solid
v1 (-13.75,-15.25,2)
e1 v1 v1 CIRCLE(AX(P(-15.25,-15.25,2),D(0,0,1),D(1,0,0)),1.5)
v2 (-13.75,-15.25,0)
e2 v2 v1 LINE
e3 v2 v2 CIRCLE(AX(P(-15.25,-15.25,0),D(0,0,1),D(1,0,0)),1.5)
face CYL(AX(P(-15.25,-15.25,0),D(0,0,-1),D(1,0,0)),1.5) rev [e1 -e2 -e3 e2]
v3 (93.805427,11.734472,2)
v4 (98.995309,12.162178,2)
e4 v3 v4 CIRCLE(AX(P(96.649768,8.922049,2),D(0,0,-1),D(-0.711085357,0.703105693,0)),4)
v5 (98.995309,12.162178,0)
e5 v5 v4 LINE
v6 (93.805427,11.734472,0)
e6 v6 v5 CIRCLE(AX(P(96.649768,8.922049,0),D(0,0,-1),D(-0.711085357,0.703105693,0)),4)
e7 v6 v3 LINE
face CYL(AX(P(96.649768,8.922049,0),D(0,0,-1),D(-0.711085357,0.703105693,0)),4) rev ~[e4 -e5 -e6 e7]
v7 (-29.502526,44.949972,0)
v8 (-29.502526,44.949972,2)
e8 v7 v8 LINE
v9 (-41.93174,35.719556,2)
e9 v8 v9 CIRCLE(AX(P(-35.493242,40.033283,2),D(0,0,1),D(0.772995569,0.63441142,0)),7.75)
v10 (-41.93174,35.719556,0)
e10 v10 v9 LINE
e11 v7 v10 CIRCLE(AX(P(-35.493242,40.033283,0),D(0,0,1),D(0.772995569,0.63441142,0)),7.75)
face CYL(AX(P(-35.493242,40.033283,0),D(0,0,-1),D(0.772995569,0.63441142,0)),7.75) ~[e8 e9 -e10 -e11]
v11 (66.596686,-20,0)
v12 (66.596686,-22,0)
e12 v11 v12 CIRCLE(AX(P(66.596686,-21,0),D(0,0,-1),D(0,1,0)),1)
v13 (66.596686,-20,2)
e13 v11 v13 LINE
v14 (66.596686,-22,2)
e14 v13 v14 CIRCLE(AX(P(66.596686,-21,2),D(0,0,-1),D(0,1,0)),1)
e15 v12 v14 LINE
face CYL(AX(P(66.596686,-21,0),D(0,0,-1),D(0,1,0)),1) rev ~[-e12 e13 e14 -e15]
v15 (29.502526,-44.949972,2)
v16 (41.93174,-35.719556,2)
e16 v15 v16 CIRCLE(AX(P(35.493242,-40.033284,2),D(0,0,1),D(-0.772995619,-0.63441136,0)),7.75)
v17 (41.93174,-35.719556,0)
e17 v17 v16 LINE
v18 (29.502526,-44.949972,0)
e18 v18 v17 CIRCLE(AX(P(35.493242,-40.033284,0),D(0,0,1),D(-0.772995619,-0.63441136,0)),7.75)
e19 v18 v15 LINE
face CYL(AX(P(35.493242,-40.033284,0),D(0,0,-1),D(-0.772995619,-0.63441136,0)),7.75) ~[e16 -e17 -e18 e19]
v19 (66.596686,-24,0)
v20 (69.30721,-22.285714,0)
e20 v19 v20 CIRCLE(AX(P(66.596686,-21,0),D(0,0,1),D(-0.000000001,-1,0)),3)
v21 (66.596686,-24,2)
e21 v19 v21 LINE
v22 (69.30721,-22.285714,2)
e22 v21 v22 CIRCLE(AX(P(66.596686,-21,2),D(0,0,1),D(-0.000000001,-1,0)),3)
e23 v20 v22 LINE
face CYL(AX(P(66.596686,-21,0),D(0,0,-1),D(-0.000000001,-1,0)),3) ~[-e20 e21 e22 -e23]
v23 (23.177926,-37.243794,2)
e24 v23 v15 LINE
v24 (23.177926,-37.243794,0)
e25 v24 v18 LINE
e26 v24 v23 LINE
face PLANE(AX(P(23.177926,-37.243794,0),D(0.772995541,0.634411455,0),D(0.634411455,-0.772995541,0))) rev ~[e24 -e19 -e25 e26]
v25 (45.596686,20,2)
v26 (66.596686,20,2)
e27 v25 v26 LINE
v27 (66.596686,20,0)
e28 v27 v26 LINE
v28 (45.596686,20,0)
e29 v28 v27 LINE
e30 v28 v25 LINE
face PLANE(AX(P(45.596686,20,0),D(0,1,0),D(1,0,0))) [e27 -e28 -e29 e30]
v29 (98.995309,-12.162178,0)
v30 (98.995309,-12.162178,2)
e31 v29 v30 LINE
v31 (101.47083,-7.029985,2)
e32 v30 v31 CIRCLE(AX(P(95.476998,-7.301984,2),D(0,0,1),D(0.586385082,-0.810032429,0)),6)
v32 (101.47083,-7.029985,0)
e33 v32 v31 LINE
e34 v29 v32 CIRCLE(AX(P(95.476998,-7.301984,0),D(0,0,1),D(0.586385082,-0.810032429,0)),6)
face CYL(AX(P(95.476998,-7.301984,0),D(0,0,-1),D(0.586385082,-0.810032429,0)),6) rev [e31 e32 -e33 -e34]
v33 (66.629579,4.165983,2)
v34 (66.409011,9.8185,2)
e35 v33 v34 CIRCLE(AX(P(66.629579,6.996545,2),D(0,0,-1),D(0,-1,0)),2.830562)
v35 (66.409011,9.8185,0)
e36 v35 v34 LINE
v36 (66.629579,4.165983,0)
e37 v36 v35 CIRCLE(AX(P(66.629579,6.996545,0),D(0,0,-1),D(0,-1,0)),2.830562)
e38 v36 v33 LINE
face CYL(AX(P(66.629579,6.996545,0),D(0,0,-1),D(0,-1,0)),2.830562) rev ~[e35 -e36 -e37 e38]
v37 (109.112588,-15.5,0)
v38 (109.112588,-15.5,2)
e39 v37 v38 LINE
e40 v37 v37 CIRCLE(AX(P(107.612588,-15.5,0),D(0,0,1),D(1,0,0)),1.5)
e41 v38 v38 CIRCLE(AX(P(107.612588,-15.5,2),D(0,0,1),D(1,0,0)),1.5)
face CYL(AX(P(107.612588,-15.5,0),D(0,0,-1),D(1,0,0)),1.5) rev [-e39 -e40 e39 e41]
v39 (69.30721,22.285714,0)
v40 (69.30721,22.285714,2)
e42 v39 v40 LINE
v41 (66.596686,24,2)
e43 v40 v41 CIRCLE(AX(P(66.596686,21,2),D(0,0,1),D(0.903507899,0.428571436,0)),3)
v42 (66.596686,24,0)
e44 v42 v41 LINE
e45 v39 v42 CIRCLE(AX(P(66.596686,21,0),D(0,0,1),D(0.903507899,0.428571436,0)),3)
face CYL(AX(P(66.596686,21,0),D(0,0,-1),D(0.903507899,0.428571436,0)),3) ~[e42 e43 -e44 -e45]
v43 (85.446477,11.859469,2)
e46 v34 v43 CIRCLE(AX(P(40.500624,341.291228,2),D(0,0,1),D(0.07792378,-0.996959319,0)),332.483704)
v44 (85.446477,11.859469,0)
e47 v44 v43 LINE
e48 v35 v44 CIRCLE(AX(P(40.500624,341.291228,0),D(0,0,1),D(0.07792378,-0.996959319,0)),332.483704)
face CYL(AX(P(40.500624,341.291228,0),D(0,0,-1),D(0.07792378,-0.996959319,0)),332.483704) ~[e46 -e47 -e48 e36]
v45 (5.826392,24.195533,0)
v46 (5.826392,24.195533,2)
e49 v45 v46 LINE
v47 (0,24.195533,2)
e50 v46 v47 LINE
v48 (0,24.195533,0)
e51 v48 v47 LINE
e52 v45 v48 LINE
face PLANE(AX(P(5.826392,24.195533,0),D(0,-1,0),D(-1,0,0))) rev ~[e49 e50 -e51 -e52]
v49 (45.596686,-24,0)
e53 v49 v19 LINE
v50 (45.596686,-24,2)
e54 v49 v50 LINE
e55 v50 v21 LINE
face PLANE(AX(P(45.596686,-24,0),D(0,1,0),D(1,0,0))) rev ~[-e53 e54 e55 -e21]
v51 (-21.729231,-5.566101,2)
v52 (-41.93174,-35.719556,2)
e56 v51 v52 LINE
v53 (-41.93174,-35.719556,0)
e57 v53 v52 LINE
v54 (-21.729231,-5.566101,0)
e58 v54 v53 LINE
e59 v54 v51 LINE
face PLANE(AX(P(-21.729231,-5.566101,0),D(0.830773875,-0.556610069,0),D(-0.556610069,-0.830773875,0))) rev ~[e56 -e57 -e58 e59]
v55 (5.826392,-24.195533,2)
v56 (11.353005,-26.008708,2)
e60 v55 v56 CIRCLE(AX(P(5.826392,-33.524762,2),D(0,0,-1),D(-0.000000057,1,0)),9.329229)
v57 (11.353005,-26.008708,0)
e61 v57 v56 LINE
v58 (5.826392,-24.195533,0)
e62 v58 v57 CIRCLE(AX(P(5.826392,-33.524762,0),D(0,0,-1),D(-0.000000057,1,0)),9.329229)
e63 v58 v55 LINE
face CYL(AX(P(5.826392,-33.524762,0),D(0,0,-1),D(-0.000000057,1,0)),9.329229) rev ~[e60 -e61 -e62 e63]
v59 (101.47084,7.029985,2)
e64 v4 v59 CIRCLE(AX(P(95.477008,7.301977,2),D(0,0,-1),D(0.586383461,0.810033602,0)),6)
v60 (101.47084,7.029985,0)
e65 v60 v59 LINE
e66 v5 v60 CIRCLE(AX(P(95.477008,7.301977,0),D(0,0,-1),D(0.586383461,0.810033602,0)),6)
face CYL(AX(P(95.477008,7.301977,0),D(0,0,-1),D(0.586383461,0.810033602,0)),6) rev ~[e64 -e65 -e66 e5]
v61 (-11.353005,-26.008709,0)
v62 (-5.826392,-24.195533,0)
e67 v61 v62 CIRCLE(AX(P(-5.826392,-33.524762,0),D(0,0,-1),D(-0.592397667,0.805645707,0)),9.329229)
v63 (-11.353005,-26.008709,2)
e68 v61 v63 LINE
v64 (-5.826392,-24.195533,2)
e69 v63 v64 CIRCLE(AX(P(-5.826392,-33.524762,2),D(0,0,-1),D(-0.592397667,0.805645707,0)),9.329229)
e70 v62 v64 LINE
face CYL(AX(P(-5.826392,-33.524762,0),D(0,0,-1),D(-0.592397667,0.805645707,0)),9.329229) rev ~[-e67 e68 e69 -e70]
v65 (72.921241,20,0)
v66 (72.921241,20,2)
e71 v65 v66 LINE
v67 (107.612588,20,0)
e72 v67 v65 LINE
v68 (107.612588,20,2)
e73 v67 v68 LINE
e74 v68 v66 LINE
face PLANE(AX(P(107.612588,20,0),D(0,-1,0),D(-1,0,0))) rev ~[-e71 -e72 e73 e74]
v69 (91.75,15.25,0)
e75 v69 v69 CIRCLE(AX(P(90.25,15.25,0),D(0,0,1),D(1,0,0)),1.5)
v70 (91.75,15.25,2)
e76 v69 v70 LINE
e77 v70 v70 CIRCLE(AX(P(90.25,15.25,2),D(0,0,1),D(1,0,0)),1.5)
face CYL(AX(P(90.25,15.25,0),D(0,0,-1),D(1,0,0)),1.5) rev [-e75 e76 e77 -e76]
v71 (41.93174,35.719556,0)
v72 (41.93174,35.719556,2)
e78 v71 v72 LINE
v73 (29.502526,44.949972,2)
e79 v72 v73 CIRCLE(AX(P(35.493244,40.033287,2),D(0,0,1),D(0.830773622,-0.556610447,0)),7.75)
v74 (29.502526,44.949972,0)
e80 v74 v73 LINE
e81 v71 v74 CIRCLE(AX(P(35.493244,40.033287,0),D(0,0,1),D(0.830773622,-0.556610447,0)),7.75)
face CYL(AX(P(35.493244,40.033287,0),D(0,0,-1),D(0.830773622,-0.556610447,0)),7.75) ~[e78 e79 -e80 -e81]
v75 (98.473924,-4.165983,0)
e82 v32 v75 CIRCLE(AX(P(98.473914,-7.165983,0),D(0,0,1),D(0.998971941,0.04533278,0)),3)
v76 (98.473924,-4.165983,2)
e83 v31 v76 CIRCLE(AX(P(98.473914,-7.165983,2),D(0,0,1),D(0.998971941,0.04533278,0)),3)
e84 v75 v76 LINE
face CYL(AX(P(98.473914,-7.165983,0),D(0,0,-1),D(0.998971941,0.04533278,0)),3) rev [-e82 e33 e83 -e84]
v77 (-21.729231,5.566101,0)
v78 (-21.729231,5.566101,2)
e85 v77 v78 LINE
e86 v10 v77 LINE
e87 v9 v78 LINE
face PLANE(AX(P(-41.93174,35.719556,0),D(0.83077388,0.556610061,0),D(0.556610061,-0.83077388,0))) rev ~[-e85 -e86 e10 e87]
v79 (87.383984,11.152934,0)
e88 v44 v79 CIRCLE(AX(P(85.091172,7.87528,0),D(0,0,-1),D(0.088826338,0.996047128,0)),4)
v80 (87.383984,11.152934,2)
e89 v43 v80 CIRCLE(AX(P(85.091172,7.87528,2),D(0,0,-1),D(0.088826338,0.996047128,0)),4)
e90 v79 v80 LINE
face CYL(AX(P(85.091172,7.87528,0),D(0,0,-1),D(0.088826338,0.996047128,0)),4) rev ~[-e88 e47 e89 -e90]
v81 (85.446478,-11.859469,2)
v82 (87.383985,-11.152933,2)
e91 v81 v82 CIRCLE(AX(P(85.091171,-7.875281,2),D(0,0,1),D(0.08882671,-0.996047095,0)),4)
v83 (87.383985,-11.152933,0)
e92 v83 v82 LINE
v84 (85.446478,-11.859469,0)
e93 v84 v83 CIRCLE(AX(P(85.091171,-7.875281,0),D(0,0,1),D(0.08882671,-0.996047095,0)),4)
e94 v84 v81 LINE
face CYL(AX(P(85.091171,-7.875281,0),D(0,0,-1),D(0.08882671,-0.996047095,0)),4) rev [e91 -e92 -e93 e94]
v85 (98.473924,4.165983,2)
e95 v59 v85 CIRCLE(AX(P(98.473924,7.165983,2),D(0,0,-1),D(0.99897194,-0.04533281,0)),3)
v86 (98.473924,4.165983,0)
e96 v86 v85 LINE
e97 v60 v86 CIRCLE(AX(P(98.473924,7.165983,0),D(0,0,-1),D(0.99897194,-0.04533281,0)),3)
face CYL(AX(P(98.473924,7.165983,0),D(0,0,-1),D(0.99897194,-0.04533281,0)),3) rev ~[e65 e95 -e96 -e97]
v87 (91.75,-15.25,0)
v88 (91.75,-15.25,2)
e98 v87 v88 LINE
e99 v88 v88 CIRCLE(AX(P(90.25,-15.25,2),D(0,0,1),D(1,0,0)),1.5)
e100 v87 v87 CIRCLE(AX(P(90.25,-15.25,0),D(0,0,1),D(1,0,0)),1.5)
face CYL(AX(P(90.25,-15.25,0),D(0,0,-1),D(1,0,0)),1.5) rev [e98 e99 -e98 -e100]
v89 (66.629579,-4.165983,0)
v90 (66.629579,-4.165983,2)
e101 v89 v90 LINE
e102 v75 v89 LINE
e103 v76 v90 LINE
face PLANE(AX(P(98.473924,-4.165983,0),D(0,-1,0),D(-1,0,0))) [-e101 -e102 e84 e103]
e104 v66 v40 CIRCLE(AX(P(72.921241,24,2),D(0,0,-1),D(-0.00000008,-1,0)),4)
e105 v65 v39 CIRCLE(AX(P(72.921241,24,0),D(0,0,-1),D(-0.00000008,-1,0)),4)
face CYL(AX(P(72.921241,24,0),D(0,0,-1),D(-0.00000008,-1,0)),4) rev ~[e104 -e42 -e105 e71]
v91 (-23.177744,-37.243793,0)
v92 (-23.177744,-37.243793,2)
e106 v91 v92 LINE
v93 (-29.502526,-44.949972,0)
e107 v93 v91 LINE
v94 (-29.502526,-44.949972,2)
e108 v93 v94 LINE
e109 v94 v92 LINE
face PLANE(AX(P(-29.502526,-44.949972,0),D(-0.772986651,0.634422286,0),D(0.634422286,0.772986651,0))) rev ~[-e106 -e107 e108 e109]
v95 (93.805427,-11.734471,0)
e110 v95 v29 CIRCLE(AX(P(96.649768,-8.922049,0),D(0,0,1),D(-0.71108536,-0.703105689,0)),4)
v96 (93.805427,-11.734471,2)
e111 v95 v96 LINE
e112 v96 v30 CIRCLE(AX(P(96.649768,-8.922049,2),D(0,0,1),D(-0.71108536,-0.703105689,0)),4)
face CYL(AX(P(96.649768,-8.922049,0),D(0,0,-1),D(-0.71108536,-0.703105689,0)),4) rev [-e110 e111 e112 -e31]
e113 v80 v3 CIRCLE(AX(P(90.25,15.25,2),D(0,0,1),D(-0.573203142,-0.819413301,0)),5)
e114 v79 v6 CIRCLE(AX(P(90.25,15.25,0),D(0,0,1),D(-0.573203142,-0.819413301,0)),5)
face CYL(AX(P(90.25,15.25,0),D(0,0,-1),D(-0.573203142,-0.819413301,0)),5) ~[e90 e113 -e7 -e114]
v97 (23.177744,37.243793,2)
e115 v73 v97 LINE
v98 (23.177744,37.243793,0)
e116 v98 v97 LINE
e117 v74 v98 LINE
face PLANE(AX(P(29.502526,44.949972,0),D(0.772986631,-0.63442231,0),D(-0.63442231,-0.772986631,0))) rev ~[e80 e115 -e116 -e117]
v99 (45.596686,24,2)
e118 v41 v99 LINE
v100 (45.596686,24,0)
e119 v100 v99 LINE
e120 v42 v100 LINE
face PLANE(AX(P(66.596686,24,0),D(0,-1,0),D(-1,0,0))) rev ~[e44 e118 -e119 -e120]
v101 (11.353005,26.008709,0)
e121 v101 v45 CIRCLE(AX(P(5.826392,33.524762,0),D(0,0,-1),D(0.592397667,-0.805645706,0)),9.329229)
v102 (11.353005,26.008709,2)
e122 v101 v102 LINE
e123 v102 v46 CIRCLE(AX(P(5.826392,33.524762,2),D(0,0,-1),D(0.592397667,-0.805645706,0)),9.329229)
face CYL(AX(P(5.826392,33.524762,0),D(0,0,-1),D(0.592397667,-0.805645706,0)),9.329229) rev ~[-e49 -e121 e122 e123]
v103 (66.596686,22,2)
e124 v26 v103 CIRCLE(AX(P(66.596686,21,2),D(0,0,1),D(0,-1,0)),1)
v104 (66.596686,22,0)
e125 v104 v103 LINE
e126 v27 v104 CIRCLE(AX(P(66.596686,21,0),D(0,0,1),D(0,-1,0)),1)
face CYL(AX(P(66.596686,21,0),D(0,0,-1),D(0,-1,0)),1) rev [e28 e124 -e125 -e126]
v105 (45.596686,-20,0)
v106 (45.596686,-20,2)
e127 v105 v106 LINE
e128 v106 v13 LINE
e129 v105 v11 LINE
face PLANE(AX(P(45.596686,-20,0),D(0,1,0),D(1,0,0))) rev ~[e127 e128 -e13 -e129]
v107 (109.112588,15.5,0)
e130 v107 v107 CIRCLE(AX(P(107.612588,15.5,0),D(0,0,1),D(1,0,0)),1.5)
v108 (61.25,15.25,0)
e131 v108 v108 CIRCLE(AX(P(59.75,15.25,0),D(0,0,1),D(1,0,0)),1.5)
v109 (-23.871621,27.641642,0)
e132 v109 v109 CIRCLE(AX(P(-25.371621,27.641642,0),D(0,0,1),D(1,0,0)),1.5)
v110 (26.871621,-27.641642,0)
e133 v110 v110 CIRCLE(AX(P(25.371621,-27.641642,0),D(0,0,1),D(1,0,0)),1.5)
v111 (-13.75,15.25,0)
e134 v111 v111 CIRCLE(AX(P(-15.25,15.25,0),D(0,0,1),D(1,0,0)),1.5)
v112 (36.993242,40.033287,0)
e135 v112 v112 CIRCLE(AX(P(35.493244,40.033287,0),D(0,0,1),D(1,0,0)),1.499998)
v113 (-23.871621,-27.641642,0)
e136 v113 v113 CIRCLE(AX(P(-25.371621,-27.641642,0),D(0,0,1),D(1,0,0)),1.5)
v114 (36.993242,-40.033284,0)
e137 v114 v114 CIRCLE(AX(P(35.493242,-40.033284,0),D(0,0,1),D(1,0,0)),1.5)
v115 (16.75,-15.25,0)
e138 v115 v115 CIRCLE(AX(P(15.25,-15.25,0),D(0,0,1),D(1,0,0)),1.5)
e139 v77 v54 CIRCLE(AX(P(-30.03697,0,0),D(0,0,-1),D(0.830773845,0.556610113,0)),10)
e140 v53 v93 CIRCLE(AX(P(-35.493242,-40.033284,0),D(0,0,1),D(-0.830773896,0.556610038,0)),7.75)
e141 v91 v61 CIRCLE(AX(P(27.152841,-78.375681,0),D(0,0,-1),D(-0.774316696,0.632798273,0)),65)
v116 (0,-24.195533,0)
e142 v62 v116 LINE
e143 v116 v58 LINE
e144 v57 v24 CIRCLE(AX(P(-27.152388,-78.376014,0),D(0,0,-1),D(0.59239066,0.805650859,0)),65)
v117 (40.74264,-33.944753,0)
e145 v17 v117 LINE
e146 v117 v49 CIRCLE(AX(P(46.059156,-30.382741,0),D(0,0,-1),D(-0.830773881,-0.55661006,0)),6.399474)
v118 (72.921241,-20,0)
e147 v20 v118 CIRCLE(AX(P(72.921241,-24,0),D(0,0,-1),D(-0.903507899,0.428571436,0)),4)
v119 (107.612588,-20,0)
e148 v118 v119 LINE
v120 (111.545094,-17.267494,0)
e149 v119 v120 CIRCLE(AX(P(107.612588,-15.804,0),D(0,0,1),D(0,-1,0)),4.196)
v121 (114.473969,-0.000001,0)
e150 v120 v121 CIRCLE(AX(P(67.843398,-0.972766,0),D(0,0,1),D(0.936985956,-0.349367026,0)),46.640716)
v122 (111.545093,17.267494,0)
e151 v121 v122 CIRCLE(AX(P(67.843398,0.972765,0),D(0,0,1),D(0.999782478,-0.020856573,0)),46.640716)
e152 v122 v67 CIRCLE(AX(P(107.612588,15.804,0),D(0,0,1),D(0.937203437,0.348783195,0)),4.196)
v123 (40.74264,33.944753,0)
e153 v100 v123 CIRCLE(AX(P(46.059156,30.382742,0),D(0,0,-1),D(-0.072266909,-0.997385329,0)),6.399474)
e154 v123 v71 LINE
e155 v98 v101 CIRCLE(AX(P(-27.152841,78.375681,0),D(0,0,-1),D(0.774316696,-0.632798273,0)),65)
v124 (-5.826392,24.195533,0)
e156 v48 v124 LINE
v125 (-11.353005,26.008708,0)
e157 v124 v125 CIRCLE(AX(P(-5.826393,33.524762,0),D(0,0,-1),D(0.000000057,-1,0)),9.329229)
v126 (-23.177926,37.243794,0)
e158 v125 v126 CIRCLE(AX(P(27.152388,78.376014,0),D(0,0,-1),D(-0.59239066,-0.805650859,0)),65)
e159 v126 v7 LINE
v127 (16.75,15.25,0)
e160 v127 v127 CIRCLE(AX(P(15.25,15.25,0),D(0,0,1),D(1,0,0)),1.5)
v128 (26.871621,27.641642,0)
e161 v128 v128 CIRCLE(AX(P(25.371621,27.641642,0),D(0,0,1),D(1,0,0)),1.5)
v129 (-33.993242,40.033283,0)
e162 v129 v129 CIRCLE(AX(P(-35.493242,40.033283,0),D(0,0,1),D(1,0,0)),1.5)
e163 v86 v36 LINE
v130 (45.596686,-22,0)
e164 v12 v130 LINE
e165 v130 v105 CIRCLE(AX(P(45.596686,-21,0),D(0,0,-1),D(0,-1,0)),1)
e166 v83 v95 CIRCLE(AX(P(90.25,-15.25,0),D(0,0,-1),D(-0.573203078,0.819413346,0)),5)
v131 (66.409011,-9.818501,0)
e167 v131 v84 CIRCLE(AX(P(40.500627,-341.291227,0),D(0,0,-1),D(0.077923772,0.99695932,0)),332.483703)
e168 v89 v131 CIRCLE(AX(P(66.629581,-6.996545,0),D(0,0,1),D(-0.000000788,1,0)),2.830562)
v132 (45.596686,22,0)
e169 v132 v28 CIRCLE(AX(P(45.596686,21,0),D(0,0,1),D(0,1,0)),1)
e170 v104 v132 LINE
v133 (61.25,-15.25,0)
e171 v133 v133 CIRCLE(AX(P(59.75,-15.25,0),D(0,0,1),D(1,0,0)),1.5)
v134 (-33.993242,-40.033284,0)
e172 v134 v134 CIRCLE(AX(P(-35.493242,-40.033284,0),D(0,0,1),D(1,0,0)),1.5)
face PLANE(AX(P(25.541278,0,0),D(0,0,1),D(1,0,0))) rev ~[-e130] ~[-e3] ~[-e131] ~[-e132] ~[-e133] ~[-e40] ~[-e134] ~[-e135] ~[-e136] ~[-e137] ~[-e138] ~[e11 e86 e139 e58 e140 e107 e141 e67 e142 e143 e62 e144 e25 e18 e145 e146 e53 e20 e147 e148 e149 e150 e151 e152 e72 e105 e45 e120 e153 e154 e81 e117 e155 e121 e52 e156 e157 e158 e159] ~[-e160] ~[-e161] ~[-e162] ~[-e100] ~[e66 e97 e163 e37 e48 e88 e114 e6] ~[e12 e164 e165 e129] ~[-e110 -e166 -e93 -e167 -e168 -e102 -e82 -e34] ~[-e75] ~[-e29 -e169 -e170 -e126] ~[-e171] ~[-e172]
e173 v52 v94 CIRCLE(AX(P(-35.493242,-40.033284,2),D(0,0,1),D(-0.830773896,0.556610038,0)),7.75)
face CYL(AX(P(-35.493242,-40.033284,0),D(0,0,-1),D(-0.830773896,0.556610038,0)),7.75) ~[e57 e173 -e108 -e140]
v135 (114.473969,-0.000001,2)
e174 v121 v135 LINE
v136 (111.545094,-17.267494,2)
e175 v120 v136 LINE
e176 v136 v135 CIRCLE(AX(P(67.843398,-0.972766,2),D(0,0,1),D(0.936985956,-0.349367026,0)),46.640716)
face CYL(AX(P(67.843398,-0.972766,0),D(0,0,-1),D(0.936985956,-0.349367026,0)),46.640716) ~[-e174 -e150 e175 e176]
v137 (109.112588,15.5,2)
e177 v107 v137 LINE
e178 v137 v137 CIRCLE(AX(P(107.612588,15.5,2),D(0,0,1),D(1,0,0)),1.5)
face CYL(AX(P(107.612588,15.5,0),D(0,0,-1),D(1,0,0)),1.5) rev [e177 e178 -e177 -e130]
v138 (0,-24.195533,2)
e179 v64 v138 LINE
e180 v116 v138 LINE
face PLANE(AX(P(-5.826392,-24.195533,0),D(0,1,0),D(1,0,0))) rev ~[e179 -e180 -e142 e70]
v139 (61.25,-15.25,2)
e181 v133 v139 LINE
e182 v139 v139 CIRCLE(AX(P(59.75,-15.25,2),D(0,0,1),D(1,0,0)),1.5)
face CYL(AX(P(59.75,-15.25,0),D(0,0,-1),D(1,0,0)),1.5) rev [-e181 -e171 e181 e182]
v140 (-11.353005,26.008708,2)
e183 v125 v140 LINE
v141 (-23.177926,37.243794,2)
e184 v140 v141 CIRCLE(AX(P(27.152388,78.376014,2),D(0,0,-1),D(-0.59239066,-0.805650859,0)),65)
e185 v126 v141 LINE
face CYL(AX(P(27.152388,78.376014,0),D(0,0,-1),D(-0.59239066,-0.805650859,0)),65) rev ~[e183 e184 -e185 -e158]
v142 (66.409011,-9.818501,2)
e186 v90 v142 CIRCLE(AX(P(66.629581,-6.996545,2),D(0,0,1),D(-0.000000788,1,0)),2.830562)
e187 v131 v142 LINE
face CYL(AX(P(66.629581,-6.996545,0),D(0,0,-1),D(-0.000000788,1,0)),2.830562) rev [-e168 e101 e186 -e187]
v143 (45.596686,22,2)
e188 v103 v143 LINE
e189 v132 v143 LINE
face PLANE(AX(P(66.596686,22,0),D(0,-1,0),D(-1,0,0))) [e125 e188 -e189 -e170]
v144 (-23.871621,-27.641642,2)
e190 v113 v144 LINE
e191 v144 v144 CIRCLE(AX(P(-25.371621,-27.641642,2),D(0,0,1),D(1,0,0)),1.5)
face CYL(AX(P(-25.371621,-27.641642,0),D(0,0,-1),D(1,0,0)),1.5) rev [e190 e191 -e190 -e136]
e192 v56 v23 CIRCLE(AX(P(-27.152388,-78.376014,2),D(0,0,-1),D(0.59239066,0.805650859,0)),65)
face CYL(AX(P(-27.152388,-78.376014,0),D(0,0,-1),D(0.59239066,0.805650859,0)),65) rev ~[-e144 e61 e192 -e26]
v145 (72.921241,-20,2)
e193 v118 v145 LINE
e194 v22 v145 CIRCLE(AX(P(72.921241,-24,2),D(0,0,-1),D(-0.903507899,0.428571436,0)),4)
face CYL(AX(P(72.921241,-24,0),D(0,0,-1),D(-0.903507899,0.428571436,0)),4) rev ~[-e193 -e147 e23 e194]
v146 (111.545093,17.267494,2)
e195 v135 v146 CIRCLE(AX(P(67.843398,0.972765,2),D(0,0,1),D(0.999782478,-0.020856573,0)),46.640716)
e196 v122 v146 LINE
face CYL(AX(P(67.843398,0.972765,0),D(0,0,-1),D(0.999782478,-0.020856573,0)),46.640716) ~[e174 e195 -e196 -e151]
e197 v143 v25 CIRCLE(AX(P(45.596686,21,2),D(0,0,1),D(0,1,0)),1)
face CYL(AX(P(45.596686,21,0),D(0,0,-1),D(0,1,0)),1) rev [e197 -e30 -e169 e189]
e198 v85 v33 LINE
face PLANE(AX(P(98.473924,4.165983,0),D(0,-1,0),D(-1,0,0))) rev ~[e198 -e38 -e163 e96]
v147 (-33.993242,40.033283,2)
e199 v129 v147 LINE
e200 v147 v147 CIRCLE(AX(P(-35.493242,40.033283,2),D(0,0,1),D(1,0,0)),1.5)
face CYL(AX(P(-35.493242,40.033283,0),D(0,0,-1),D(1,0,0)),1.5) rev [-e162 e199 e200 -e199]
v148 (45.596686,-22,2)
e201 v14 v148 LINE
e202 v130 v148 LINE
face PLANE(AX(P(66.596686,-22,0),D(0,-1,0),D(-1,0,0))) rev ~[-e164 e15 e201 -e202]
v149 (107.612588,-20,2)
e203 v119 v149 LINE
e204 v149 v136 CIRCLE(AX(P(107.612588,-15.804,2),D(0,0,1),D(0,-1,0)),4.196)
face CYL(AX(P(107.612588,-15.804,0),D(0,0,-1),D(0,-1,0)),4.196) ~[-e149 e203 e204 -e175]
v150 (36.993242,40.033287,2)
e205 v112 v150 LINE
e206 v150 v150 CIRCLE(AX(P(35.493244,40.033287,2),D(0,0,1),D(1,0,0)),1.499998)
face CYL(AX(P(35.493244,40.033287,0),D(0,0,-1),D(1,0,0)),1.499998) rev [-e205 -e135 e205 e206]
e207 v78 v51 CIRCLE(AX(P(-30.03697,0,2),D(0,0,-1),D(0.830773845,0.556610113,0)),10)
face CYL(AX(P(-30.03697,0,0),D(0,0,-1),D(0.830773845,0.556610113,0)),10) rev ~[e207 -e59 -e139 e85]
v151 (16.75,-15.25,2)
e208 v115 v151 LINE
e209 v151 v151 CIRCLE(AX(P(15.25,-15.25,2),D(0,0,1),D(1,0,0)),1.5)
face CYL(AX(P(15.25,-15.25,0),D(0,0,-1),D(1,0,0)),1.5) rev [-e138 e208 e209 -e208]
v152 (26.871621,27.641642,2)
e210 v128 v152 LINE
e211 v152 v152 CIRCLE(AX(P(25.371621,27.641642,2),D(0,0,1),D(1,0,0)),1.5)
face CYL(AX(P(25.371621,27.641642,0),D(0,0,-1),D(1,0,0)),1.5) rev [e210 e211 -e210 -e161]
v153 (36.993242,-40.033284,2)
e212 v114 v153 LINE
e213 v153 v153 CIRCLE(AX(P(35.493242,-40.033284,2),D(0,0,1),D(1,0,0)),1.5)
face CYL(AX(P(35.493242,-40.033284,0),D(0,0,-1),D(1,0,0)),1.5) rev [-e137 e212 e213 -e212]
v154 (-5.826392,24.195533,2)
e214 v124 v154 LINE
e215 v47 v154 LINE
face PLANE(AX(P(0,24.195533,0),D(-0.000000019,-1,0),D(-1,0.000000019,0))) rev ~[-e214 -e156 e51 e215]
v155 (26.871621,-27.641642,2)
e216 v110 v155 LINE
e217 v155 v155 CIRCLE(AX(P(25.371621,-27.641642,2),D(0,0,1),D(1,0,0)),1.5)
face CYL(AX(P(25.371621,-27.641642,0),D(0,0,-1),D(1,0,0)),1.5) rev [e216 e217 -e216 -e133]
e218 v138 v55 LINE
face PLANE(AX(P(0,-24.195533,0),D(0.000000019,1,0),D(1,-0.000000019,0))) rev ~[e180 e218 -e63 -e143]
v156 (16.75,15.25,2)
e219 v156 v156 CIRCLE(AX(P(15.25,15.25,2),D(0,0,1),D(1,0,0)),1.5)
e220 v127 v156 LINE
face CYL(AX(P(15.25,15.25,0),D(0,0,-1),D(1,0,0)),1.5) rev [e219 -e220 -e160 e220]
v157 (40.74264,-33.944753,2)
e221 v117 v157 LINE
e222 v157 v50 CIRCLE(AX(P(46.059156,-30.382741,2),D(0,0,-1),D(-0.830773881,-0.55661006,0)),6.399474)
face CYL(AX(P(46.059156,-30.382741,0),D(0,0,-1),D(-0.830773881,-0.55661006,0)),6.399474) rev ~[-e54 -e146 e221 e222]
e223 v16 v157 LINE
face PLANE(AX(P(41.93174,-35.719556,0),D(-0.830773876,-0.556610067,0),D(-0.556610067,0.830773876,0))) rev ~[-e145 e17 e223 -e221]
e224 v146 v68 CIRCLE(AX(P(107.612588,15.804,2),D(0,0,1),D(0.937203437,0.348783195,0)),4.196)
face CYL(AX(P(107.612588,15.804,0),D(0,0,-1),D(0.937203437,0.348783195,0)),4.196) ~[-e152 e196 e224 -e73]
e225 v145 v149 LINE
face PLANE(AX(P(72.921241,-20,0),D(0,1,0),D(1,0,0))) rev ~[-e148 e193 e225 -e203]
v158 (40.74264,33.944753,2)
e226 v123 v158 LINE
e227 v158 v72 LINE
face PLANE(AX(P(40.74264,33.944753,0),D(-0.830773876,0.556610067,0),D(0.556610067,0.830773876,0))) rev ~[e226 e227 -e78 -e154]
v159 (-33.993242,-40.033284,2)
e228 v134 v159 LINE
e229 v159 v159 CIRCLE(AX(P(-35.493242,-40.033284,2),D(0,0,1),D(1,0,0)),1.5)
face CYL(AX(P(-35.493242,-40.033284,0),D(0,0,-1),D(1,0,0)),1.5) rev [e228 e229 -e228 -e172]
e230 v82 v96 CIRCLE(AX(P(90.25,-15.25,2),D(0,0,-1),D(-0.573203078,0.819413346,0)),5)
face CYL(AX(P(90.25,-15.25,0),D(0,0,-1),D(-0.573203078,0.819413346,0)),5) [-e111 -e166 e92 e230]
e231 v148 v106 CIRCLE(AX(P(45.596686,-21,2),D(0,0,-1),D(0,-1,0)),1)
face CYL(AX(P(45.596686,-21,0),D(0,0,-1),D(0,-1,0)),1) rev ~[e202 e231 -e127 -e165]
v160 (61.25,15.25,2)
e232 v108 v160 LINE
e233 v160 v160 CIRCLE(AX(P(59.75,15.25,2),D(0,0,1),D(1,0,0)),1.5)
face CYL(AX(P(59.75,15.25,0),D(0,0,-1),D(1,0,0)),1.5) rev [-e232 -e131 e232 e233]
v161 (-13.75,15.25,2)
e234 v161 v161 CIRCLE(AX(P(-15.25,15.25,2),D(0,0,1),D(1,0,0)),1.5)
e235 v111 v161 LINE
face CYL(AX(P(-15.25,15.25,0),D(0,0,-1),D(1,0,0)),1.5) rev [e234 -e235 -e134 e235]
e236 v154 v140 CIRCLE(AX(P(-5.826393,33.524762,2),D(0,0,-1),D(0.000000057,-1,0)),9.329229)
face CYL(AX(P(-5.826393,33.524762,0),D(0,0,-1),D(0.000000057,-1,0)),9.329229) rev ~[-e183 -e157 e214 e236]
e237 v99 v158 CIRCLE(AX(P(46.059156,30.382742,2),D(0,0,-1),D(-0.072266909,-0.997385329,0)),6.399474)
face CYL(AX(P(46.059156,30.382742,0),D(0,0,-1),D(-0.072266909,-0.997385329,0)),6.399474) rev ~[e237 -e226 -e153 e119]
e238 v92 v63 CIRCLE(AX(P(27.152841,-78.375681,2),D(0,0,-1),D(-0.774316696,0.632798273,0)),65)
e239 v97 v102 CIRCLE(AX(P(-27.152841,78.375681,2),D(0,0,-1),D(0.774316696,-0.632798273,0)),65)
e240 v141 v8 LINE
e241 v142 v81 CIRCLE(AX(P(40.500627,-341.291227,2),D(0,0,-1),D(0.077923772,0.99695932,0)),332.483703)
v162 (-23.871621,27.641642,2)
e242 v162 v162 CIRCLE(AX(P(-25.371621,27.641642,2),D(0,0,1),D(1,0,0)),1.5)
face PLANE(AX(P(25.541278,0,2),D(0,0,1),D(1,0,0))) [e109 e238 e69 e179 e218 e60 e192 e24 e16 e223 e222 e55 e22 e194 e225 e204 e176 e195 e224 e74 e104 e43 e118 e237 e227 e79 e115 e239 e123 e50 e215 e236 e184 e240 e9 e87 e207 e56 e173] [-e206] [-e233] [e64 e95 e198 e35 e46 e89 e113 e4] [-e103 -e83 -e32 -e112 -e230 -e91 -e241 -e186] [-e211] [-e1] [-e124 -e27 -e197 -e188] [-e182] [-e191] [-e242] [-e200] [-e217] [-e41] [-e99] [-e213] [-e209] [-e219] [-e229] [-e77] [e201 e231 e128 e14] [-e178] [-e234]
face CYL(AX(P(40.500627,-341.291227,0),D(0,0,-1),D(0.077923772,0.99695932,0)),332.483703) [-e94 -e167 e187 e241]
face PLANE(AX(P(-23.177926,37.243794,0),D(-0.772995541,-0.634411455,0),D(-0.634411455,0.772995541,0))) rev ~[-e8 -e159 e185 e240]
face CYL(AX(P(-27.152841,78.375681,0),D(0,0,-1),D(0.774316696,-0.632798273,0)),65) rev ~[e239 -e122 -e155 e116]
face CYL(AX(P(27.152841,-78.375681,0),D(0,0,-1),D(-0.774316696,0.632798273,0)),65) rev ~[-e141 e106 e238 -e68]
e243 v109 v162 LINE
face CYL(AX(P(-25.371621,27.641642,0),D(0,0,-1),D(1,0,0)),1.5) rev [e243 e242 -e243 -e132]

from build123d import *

# Parameters (mm, degrees)
CROQUIS1_R              = 1.5
CROQUIS1_R_2            = 1.499997567
CROQUIS1_R_3            = 1.499999659
SALIENTE_EXTRUIR1_DEPTH = 2


with BuildPart() as part:
    # Croquis1 → Saliente-Extruir1 (new body)
    with BuildSketch(Plane.XY):
        with BuildLine():
            Line((-41.931739537, 35.719555975), (-21.729231, 5.566101))
            ThreePointArc((-21.729231, 5.566101), (-20.036969421, 4.8e-08), (-21.729230683, -5.566101))
            Line((-21.729230683, -5.566101), (-41.931739683, -35.719556))
            ThreePointArc((-41.931739683, -35.719556), (-40.113877545, -46.255199079), (-29.502526011, -44.949972494))
            Line((-29.502526011, -44.949972494), (-23.17774412, -37.243793058))
            ThreePointArc((-23.17774412, -37.243793058), (-17.619189001, -31.253867186), (-11.353005357, -26.008708515))
            ThreePointArc((-11.353005357, -26.008708515), (-8.734615775, -24.660409187), (-5.826392082, -24.195532826))
            Line((-5.826392082, -24.195532826), (-8.2e-08, -24.195532826))
            Line((-8.2e-08, -24.195532826), (5.826391918, -24.195532937))
            ThreePointArc((5.826391918, -24.195532937), (8.734615571, -24.66040906), (11.3530052, -26.008708126))
            ThreePointArc((11.3530052, -26.008708126), (17.61928276, -31.253858591), (23.177925918, -37.243793826))
            Line((23.177925918, -37.243793826), (29.502525918, -44.949971826))
            ThreePointArc((29.502525918, -44.949971826), (40.113877545, -46.255199018), (41.931739905, -35.719555809))
            Line((41.931739905, -35.719555809), (40.742639905, -33.944752809))
            ThreePointArc((40.742639905, -33.944752809), (40.308182186, -27.575684066), (45.596686, -23.999999855))
            Line((45.596686, -23.999999855), (66.596686, -23.999999855))
            ThreePointArc((66.596686, -23.999999855), (68.20025333, -23.53546267), (69.307209533, -22.285714318))
            ThreePointArc((69.307209533, -22.285714318), (70.783151209, -20.619383034), (72.921241131, -20.000000062))
            Line((72.921241131, -20.000000062), (107.612588131, -20.000000062))
            ThreePointArc((107.612588131, -20.000000062), (110.006914278, -19.249811766), (111.54509388, -17.267494009))
            ThreePointArc((111.54509388, -17.267494009), (113.827321023, -8.772459026), (114.473968651, -5.93e-07))
            ThreePointArc((114.473968651, -5.93e-07), (113.827320947, 8.772458604), (111.545093444, 17.267494286))
            ThreePointArc((111.545093444, 17.267494286), (110.006913893, 19.249811756), (107.612588, 20))
            Line((107.612588, 20), (72.921241, 20))
            ThreePointArc((72.921241, 20), (70.783151239, 20.619383073), (69.307209698, 22.285714308))
            ThreePointArc((69.307209698, 22.285714308), (68.200253441, 23.535462771), (66.596686, 24))
            Line((66.596686, 24), (45.596686, 24))
            ThreePointArc((45.596686, 24), (40.308182457, 27.575684295), (40.74263977, 33.944752888))
            Line((40.74263977, 33.944752888), (41.93173977, 35.719555888))
            ThreePointArc((41.93173977, 35.719555888), (40.113879793, 46.255201891), (29.502526087, 44.949972367))
            Line((29.502526087, 44.949972367), (23.177744038, 37.243793232))
            ThreePointArc((23.177744038, 37.243793232), (17.619188919, 31.25386736), (11.353005274, 26.008708689))
            ThreePointArc((11.353005274, 26.008708689), (8.734615693, 24.660409361), (5.826392, 24.195533))
            Line((5.826392, 24.195533), (0, 24.195533))
            Line((0, 24.195533), (-5.826392, 24.195533111))
            ThreePointArc((-5.826392, 24.195533111), (-8.734615653, 24.660409234), (-11.353005282, 26.0087083))
            ThreePointArc((-11.353005282, 26.0087083), (-17.619282842, 31.253858765), (-23.177926, 37.243794))
            Line((-23.177926, 37.243794), (-29.502526, 44.949972))
            ThreePointArc((-29.502526, 44.949972), (-40.113877138, 46.255198613), (-41.931739537, 35.719555975))
        make_face()
        with Locations((59.75, -15.25)):
            Circle(CROQUIS1_R, mode=Mode.SUBTRACT)
        with Locations((-15.25, -15.25)):
            Circle(CROQUIS1_R, mode=Mode.SUBTRACT)
        with Locations((35.493242084, -40.033283689)):
            Circle(CROQUIS1_R, mode=Mode.SUBTRACT)
        with Locations((107.612588, -15.5)):
            Circle(CROQUIS1_R, mode=Mode.SUBTRACT)
        with Locations((-35.493241837, -40.033283897)):
            Circle(CROQUIS1_R, mode=Mode.SUBTRACT)
        with Locations((15.25, 15.25)):
            Circle(CROQUIS1_R, mode=Mode.SUBTRACT)
        with Locations((59.75, 15.25)):
            Circle(CROQUIS1_R, mode=Mode.SUBTRACT)
        with Locations((-25.371621, -27.641642)):
            Circle(CROQUIS1_R, mode=Mode.SUBTRACT)
        with Locations((-25.371621, 27.641642)):
            Circle(CROQUIS1_R, mode=Mode.SUBTRACT)
        with Locations((35.493244203, 40.033286852)):
            Circle(CROQUIS1_R_2, mode=Mode.SUBTRACT)
        with Locations((107.612588, 15.5)):
            Circle(CROQUIS1_R, mode=Mode.SUBTRACT)
        with Locations((-35.493241659, 40.033283492)):
            Circle(CROQUIS1_R_3, mode=Mode.SUBTRACT)
        with Locations((90.249999894, -15.249999839)):
            Circle(CROQUIS1_R, mode=Mode.SUBTRACT)
        with Locations((90.24999988, 15.250000209)):
            Circle(CROQUIS1_R, mode=Mode.SUBTRACT)
        with Locations((-15.25, 15.25)):
            Circle(CROQUIS1_R, mode=Mode.SUBTRACT)
        with Locations((25.371621, -27.641642)):
            Circle(CROQUIS1_R, mode=Mode.SUBTRACT)
        with Locations((15.25, -15.25)):
            Circle(CROQUIS1_R, mode=Mode.SUBTRACT)
        with Locations((25.371621, 27.641642)):
            Circle(CROQUIS1_R, mode=Mode.SUBTRACT)
        with BuildLine():
            Line((98.473924, 4.165983), (66.629579, 4.165983))
            ThreePointArc((66.629579, 4.165983), (63.80116944, 6.88617712), (66.409010926, 9.818500341))
            ThreePointArc((66.409010926, 9.818500341), (75.942438766, 10.701918647), (85.446477477, 11.859468837))
            ThreePointArc((85.446477477, 11.859468837), (86.461547798, 11.633214666), (87.383984261, 11.152933833))
            ThreePointArc((87.383984261, 11.152933833), (90.700963866, 10.270378747), (93.80542655, 11.734471854))
            ThreePointArc((93.80542655, 11.734471854), (96.321235225, 12.908534532), (98.995308731, 12.162178491))
            ThreePointArc((98.995308731, 12.162178491), (100.881174903, 9.908695061), (101.470839807, 7.02998457))
            ThreePointArc((101.470839807, 7.02998457), (100.546603986, 4.997112873), (98.473924, 4.165983))
        make_face(mode=Mode.SUBTRACT)
        with BuildLine():
            Line((66.596686, -22), (45.596686, -22))
            ThreePointArc((45.596686, -22), (44.596686, -21), (45.596686, -20))
            Line((45.596686, -20), (66.596686, -20))
            ThreePointArc((66.596686, -20), (67.596686, -21), (66.596686, -22))
        make_face(mode=Mode.SUBTRACT)
        with BuildLine():
            Line((66.596686, 22), (45.596686, 22))
            ThreePointArc((45.596686, 22), (44.596686, 21), (45.596686, 20))
            Line((45.596686, 20), (66.596686, 20))
            ThreePointArc((66.596686, 20), (67.596686, 21), (66.596686, 22))
        make_face(mode=Mode.SUBTRACT)
        with BuildLine():
            Line((98.473923843, -4.165983), (66.629579, -4.165983))
            ThreePointArc((66.629579, -4.165983), (63.801171492, -6.886177421), (66.409011186, -9.818500536))
            ThreePointArc((66.409011186, -9.818500536), (75.942439193, -10.70191878), (85.446478074, -11.859468919))
            ThreePointArc((85.446478074, -11.859468919), (86.461548299, -11.633214373), (87.383984575, -11.152933205))
            ThreePointArc((87.383984575, -11.152933205), (90.700964079, -10.270378355), (93.805426592, -11.734471456))
            ThreePointArc((93.805426592, -11.734471456), (96.32123511, -12.908534134), (98.995308527, -12.162178296))
            ThreePointArc((98.995308527, -12.162178296), (100.881169052, -9.908693453), (101.470829573, -7.029984658))
            ThreePointArc((101.470829573, -7.029984658), (100.546597424, -4.997116386), (98.473923843, -4.165983))
        make_face(mode=Mode.SUBTRACT)
    extrude(amount=SALIENTE_EXTRUIR1_DEPTH)


solid = part.part
